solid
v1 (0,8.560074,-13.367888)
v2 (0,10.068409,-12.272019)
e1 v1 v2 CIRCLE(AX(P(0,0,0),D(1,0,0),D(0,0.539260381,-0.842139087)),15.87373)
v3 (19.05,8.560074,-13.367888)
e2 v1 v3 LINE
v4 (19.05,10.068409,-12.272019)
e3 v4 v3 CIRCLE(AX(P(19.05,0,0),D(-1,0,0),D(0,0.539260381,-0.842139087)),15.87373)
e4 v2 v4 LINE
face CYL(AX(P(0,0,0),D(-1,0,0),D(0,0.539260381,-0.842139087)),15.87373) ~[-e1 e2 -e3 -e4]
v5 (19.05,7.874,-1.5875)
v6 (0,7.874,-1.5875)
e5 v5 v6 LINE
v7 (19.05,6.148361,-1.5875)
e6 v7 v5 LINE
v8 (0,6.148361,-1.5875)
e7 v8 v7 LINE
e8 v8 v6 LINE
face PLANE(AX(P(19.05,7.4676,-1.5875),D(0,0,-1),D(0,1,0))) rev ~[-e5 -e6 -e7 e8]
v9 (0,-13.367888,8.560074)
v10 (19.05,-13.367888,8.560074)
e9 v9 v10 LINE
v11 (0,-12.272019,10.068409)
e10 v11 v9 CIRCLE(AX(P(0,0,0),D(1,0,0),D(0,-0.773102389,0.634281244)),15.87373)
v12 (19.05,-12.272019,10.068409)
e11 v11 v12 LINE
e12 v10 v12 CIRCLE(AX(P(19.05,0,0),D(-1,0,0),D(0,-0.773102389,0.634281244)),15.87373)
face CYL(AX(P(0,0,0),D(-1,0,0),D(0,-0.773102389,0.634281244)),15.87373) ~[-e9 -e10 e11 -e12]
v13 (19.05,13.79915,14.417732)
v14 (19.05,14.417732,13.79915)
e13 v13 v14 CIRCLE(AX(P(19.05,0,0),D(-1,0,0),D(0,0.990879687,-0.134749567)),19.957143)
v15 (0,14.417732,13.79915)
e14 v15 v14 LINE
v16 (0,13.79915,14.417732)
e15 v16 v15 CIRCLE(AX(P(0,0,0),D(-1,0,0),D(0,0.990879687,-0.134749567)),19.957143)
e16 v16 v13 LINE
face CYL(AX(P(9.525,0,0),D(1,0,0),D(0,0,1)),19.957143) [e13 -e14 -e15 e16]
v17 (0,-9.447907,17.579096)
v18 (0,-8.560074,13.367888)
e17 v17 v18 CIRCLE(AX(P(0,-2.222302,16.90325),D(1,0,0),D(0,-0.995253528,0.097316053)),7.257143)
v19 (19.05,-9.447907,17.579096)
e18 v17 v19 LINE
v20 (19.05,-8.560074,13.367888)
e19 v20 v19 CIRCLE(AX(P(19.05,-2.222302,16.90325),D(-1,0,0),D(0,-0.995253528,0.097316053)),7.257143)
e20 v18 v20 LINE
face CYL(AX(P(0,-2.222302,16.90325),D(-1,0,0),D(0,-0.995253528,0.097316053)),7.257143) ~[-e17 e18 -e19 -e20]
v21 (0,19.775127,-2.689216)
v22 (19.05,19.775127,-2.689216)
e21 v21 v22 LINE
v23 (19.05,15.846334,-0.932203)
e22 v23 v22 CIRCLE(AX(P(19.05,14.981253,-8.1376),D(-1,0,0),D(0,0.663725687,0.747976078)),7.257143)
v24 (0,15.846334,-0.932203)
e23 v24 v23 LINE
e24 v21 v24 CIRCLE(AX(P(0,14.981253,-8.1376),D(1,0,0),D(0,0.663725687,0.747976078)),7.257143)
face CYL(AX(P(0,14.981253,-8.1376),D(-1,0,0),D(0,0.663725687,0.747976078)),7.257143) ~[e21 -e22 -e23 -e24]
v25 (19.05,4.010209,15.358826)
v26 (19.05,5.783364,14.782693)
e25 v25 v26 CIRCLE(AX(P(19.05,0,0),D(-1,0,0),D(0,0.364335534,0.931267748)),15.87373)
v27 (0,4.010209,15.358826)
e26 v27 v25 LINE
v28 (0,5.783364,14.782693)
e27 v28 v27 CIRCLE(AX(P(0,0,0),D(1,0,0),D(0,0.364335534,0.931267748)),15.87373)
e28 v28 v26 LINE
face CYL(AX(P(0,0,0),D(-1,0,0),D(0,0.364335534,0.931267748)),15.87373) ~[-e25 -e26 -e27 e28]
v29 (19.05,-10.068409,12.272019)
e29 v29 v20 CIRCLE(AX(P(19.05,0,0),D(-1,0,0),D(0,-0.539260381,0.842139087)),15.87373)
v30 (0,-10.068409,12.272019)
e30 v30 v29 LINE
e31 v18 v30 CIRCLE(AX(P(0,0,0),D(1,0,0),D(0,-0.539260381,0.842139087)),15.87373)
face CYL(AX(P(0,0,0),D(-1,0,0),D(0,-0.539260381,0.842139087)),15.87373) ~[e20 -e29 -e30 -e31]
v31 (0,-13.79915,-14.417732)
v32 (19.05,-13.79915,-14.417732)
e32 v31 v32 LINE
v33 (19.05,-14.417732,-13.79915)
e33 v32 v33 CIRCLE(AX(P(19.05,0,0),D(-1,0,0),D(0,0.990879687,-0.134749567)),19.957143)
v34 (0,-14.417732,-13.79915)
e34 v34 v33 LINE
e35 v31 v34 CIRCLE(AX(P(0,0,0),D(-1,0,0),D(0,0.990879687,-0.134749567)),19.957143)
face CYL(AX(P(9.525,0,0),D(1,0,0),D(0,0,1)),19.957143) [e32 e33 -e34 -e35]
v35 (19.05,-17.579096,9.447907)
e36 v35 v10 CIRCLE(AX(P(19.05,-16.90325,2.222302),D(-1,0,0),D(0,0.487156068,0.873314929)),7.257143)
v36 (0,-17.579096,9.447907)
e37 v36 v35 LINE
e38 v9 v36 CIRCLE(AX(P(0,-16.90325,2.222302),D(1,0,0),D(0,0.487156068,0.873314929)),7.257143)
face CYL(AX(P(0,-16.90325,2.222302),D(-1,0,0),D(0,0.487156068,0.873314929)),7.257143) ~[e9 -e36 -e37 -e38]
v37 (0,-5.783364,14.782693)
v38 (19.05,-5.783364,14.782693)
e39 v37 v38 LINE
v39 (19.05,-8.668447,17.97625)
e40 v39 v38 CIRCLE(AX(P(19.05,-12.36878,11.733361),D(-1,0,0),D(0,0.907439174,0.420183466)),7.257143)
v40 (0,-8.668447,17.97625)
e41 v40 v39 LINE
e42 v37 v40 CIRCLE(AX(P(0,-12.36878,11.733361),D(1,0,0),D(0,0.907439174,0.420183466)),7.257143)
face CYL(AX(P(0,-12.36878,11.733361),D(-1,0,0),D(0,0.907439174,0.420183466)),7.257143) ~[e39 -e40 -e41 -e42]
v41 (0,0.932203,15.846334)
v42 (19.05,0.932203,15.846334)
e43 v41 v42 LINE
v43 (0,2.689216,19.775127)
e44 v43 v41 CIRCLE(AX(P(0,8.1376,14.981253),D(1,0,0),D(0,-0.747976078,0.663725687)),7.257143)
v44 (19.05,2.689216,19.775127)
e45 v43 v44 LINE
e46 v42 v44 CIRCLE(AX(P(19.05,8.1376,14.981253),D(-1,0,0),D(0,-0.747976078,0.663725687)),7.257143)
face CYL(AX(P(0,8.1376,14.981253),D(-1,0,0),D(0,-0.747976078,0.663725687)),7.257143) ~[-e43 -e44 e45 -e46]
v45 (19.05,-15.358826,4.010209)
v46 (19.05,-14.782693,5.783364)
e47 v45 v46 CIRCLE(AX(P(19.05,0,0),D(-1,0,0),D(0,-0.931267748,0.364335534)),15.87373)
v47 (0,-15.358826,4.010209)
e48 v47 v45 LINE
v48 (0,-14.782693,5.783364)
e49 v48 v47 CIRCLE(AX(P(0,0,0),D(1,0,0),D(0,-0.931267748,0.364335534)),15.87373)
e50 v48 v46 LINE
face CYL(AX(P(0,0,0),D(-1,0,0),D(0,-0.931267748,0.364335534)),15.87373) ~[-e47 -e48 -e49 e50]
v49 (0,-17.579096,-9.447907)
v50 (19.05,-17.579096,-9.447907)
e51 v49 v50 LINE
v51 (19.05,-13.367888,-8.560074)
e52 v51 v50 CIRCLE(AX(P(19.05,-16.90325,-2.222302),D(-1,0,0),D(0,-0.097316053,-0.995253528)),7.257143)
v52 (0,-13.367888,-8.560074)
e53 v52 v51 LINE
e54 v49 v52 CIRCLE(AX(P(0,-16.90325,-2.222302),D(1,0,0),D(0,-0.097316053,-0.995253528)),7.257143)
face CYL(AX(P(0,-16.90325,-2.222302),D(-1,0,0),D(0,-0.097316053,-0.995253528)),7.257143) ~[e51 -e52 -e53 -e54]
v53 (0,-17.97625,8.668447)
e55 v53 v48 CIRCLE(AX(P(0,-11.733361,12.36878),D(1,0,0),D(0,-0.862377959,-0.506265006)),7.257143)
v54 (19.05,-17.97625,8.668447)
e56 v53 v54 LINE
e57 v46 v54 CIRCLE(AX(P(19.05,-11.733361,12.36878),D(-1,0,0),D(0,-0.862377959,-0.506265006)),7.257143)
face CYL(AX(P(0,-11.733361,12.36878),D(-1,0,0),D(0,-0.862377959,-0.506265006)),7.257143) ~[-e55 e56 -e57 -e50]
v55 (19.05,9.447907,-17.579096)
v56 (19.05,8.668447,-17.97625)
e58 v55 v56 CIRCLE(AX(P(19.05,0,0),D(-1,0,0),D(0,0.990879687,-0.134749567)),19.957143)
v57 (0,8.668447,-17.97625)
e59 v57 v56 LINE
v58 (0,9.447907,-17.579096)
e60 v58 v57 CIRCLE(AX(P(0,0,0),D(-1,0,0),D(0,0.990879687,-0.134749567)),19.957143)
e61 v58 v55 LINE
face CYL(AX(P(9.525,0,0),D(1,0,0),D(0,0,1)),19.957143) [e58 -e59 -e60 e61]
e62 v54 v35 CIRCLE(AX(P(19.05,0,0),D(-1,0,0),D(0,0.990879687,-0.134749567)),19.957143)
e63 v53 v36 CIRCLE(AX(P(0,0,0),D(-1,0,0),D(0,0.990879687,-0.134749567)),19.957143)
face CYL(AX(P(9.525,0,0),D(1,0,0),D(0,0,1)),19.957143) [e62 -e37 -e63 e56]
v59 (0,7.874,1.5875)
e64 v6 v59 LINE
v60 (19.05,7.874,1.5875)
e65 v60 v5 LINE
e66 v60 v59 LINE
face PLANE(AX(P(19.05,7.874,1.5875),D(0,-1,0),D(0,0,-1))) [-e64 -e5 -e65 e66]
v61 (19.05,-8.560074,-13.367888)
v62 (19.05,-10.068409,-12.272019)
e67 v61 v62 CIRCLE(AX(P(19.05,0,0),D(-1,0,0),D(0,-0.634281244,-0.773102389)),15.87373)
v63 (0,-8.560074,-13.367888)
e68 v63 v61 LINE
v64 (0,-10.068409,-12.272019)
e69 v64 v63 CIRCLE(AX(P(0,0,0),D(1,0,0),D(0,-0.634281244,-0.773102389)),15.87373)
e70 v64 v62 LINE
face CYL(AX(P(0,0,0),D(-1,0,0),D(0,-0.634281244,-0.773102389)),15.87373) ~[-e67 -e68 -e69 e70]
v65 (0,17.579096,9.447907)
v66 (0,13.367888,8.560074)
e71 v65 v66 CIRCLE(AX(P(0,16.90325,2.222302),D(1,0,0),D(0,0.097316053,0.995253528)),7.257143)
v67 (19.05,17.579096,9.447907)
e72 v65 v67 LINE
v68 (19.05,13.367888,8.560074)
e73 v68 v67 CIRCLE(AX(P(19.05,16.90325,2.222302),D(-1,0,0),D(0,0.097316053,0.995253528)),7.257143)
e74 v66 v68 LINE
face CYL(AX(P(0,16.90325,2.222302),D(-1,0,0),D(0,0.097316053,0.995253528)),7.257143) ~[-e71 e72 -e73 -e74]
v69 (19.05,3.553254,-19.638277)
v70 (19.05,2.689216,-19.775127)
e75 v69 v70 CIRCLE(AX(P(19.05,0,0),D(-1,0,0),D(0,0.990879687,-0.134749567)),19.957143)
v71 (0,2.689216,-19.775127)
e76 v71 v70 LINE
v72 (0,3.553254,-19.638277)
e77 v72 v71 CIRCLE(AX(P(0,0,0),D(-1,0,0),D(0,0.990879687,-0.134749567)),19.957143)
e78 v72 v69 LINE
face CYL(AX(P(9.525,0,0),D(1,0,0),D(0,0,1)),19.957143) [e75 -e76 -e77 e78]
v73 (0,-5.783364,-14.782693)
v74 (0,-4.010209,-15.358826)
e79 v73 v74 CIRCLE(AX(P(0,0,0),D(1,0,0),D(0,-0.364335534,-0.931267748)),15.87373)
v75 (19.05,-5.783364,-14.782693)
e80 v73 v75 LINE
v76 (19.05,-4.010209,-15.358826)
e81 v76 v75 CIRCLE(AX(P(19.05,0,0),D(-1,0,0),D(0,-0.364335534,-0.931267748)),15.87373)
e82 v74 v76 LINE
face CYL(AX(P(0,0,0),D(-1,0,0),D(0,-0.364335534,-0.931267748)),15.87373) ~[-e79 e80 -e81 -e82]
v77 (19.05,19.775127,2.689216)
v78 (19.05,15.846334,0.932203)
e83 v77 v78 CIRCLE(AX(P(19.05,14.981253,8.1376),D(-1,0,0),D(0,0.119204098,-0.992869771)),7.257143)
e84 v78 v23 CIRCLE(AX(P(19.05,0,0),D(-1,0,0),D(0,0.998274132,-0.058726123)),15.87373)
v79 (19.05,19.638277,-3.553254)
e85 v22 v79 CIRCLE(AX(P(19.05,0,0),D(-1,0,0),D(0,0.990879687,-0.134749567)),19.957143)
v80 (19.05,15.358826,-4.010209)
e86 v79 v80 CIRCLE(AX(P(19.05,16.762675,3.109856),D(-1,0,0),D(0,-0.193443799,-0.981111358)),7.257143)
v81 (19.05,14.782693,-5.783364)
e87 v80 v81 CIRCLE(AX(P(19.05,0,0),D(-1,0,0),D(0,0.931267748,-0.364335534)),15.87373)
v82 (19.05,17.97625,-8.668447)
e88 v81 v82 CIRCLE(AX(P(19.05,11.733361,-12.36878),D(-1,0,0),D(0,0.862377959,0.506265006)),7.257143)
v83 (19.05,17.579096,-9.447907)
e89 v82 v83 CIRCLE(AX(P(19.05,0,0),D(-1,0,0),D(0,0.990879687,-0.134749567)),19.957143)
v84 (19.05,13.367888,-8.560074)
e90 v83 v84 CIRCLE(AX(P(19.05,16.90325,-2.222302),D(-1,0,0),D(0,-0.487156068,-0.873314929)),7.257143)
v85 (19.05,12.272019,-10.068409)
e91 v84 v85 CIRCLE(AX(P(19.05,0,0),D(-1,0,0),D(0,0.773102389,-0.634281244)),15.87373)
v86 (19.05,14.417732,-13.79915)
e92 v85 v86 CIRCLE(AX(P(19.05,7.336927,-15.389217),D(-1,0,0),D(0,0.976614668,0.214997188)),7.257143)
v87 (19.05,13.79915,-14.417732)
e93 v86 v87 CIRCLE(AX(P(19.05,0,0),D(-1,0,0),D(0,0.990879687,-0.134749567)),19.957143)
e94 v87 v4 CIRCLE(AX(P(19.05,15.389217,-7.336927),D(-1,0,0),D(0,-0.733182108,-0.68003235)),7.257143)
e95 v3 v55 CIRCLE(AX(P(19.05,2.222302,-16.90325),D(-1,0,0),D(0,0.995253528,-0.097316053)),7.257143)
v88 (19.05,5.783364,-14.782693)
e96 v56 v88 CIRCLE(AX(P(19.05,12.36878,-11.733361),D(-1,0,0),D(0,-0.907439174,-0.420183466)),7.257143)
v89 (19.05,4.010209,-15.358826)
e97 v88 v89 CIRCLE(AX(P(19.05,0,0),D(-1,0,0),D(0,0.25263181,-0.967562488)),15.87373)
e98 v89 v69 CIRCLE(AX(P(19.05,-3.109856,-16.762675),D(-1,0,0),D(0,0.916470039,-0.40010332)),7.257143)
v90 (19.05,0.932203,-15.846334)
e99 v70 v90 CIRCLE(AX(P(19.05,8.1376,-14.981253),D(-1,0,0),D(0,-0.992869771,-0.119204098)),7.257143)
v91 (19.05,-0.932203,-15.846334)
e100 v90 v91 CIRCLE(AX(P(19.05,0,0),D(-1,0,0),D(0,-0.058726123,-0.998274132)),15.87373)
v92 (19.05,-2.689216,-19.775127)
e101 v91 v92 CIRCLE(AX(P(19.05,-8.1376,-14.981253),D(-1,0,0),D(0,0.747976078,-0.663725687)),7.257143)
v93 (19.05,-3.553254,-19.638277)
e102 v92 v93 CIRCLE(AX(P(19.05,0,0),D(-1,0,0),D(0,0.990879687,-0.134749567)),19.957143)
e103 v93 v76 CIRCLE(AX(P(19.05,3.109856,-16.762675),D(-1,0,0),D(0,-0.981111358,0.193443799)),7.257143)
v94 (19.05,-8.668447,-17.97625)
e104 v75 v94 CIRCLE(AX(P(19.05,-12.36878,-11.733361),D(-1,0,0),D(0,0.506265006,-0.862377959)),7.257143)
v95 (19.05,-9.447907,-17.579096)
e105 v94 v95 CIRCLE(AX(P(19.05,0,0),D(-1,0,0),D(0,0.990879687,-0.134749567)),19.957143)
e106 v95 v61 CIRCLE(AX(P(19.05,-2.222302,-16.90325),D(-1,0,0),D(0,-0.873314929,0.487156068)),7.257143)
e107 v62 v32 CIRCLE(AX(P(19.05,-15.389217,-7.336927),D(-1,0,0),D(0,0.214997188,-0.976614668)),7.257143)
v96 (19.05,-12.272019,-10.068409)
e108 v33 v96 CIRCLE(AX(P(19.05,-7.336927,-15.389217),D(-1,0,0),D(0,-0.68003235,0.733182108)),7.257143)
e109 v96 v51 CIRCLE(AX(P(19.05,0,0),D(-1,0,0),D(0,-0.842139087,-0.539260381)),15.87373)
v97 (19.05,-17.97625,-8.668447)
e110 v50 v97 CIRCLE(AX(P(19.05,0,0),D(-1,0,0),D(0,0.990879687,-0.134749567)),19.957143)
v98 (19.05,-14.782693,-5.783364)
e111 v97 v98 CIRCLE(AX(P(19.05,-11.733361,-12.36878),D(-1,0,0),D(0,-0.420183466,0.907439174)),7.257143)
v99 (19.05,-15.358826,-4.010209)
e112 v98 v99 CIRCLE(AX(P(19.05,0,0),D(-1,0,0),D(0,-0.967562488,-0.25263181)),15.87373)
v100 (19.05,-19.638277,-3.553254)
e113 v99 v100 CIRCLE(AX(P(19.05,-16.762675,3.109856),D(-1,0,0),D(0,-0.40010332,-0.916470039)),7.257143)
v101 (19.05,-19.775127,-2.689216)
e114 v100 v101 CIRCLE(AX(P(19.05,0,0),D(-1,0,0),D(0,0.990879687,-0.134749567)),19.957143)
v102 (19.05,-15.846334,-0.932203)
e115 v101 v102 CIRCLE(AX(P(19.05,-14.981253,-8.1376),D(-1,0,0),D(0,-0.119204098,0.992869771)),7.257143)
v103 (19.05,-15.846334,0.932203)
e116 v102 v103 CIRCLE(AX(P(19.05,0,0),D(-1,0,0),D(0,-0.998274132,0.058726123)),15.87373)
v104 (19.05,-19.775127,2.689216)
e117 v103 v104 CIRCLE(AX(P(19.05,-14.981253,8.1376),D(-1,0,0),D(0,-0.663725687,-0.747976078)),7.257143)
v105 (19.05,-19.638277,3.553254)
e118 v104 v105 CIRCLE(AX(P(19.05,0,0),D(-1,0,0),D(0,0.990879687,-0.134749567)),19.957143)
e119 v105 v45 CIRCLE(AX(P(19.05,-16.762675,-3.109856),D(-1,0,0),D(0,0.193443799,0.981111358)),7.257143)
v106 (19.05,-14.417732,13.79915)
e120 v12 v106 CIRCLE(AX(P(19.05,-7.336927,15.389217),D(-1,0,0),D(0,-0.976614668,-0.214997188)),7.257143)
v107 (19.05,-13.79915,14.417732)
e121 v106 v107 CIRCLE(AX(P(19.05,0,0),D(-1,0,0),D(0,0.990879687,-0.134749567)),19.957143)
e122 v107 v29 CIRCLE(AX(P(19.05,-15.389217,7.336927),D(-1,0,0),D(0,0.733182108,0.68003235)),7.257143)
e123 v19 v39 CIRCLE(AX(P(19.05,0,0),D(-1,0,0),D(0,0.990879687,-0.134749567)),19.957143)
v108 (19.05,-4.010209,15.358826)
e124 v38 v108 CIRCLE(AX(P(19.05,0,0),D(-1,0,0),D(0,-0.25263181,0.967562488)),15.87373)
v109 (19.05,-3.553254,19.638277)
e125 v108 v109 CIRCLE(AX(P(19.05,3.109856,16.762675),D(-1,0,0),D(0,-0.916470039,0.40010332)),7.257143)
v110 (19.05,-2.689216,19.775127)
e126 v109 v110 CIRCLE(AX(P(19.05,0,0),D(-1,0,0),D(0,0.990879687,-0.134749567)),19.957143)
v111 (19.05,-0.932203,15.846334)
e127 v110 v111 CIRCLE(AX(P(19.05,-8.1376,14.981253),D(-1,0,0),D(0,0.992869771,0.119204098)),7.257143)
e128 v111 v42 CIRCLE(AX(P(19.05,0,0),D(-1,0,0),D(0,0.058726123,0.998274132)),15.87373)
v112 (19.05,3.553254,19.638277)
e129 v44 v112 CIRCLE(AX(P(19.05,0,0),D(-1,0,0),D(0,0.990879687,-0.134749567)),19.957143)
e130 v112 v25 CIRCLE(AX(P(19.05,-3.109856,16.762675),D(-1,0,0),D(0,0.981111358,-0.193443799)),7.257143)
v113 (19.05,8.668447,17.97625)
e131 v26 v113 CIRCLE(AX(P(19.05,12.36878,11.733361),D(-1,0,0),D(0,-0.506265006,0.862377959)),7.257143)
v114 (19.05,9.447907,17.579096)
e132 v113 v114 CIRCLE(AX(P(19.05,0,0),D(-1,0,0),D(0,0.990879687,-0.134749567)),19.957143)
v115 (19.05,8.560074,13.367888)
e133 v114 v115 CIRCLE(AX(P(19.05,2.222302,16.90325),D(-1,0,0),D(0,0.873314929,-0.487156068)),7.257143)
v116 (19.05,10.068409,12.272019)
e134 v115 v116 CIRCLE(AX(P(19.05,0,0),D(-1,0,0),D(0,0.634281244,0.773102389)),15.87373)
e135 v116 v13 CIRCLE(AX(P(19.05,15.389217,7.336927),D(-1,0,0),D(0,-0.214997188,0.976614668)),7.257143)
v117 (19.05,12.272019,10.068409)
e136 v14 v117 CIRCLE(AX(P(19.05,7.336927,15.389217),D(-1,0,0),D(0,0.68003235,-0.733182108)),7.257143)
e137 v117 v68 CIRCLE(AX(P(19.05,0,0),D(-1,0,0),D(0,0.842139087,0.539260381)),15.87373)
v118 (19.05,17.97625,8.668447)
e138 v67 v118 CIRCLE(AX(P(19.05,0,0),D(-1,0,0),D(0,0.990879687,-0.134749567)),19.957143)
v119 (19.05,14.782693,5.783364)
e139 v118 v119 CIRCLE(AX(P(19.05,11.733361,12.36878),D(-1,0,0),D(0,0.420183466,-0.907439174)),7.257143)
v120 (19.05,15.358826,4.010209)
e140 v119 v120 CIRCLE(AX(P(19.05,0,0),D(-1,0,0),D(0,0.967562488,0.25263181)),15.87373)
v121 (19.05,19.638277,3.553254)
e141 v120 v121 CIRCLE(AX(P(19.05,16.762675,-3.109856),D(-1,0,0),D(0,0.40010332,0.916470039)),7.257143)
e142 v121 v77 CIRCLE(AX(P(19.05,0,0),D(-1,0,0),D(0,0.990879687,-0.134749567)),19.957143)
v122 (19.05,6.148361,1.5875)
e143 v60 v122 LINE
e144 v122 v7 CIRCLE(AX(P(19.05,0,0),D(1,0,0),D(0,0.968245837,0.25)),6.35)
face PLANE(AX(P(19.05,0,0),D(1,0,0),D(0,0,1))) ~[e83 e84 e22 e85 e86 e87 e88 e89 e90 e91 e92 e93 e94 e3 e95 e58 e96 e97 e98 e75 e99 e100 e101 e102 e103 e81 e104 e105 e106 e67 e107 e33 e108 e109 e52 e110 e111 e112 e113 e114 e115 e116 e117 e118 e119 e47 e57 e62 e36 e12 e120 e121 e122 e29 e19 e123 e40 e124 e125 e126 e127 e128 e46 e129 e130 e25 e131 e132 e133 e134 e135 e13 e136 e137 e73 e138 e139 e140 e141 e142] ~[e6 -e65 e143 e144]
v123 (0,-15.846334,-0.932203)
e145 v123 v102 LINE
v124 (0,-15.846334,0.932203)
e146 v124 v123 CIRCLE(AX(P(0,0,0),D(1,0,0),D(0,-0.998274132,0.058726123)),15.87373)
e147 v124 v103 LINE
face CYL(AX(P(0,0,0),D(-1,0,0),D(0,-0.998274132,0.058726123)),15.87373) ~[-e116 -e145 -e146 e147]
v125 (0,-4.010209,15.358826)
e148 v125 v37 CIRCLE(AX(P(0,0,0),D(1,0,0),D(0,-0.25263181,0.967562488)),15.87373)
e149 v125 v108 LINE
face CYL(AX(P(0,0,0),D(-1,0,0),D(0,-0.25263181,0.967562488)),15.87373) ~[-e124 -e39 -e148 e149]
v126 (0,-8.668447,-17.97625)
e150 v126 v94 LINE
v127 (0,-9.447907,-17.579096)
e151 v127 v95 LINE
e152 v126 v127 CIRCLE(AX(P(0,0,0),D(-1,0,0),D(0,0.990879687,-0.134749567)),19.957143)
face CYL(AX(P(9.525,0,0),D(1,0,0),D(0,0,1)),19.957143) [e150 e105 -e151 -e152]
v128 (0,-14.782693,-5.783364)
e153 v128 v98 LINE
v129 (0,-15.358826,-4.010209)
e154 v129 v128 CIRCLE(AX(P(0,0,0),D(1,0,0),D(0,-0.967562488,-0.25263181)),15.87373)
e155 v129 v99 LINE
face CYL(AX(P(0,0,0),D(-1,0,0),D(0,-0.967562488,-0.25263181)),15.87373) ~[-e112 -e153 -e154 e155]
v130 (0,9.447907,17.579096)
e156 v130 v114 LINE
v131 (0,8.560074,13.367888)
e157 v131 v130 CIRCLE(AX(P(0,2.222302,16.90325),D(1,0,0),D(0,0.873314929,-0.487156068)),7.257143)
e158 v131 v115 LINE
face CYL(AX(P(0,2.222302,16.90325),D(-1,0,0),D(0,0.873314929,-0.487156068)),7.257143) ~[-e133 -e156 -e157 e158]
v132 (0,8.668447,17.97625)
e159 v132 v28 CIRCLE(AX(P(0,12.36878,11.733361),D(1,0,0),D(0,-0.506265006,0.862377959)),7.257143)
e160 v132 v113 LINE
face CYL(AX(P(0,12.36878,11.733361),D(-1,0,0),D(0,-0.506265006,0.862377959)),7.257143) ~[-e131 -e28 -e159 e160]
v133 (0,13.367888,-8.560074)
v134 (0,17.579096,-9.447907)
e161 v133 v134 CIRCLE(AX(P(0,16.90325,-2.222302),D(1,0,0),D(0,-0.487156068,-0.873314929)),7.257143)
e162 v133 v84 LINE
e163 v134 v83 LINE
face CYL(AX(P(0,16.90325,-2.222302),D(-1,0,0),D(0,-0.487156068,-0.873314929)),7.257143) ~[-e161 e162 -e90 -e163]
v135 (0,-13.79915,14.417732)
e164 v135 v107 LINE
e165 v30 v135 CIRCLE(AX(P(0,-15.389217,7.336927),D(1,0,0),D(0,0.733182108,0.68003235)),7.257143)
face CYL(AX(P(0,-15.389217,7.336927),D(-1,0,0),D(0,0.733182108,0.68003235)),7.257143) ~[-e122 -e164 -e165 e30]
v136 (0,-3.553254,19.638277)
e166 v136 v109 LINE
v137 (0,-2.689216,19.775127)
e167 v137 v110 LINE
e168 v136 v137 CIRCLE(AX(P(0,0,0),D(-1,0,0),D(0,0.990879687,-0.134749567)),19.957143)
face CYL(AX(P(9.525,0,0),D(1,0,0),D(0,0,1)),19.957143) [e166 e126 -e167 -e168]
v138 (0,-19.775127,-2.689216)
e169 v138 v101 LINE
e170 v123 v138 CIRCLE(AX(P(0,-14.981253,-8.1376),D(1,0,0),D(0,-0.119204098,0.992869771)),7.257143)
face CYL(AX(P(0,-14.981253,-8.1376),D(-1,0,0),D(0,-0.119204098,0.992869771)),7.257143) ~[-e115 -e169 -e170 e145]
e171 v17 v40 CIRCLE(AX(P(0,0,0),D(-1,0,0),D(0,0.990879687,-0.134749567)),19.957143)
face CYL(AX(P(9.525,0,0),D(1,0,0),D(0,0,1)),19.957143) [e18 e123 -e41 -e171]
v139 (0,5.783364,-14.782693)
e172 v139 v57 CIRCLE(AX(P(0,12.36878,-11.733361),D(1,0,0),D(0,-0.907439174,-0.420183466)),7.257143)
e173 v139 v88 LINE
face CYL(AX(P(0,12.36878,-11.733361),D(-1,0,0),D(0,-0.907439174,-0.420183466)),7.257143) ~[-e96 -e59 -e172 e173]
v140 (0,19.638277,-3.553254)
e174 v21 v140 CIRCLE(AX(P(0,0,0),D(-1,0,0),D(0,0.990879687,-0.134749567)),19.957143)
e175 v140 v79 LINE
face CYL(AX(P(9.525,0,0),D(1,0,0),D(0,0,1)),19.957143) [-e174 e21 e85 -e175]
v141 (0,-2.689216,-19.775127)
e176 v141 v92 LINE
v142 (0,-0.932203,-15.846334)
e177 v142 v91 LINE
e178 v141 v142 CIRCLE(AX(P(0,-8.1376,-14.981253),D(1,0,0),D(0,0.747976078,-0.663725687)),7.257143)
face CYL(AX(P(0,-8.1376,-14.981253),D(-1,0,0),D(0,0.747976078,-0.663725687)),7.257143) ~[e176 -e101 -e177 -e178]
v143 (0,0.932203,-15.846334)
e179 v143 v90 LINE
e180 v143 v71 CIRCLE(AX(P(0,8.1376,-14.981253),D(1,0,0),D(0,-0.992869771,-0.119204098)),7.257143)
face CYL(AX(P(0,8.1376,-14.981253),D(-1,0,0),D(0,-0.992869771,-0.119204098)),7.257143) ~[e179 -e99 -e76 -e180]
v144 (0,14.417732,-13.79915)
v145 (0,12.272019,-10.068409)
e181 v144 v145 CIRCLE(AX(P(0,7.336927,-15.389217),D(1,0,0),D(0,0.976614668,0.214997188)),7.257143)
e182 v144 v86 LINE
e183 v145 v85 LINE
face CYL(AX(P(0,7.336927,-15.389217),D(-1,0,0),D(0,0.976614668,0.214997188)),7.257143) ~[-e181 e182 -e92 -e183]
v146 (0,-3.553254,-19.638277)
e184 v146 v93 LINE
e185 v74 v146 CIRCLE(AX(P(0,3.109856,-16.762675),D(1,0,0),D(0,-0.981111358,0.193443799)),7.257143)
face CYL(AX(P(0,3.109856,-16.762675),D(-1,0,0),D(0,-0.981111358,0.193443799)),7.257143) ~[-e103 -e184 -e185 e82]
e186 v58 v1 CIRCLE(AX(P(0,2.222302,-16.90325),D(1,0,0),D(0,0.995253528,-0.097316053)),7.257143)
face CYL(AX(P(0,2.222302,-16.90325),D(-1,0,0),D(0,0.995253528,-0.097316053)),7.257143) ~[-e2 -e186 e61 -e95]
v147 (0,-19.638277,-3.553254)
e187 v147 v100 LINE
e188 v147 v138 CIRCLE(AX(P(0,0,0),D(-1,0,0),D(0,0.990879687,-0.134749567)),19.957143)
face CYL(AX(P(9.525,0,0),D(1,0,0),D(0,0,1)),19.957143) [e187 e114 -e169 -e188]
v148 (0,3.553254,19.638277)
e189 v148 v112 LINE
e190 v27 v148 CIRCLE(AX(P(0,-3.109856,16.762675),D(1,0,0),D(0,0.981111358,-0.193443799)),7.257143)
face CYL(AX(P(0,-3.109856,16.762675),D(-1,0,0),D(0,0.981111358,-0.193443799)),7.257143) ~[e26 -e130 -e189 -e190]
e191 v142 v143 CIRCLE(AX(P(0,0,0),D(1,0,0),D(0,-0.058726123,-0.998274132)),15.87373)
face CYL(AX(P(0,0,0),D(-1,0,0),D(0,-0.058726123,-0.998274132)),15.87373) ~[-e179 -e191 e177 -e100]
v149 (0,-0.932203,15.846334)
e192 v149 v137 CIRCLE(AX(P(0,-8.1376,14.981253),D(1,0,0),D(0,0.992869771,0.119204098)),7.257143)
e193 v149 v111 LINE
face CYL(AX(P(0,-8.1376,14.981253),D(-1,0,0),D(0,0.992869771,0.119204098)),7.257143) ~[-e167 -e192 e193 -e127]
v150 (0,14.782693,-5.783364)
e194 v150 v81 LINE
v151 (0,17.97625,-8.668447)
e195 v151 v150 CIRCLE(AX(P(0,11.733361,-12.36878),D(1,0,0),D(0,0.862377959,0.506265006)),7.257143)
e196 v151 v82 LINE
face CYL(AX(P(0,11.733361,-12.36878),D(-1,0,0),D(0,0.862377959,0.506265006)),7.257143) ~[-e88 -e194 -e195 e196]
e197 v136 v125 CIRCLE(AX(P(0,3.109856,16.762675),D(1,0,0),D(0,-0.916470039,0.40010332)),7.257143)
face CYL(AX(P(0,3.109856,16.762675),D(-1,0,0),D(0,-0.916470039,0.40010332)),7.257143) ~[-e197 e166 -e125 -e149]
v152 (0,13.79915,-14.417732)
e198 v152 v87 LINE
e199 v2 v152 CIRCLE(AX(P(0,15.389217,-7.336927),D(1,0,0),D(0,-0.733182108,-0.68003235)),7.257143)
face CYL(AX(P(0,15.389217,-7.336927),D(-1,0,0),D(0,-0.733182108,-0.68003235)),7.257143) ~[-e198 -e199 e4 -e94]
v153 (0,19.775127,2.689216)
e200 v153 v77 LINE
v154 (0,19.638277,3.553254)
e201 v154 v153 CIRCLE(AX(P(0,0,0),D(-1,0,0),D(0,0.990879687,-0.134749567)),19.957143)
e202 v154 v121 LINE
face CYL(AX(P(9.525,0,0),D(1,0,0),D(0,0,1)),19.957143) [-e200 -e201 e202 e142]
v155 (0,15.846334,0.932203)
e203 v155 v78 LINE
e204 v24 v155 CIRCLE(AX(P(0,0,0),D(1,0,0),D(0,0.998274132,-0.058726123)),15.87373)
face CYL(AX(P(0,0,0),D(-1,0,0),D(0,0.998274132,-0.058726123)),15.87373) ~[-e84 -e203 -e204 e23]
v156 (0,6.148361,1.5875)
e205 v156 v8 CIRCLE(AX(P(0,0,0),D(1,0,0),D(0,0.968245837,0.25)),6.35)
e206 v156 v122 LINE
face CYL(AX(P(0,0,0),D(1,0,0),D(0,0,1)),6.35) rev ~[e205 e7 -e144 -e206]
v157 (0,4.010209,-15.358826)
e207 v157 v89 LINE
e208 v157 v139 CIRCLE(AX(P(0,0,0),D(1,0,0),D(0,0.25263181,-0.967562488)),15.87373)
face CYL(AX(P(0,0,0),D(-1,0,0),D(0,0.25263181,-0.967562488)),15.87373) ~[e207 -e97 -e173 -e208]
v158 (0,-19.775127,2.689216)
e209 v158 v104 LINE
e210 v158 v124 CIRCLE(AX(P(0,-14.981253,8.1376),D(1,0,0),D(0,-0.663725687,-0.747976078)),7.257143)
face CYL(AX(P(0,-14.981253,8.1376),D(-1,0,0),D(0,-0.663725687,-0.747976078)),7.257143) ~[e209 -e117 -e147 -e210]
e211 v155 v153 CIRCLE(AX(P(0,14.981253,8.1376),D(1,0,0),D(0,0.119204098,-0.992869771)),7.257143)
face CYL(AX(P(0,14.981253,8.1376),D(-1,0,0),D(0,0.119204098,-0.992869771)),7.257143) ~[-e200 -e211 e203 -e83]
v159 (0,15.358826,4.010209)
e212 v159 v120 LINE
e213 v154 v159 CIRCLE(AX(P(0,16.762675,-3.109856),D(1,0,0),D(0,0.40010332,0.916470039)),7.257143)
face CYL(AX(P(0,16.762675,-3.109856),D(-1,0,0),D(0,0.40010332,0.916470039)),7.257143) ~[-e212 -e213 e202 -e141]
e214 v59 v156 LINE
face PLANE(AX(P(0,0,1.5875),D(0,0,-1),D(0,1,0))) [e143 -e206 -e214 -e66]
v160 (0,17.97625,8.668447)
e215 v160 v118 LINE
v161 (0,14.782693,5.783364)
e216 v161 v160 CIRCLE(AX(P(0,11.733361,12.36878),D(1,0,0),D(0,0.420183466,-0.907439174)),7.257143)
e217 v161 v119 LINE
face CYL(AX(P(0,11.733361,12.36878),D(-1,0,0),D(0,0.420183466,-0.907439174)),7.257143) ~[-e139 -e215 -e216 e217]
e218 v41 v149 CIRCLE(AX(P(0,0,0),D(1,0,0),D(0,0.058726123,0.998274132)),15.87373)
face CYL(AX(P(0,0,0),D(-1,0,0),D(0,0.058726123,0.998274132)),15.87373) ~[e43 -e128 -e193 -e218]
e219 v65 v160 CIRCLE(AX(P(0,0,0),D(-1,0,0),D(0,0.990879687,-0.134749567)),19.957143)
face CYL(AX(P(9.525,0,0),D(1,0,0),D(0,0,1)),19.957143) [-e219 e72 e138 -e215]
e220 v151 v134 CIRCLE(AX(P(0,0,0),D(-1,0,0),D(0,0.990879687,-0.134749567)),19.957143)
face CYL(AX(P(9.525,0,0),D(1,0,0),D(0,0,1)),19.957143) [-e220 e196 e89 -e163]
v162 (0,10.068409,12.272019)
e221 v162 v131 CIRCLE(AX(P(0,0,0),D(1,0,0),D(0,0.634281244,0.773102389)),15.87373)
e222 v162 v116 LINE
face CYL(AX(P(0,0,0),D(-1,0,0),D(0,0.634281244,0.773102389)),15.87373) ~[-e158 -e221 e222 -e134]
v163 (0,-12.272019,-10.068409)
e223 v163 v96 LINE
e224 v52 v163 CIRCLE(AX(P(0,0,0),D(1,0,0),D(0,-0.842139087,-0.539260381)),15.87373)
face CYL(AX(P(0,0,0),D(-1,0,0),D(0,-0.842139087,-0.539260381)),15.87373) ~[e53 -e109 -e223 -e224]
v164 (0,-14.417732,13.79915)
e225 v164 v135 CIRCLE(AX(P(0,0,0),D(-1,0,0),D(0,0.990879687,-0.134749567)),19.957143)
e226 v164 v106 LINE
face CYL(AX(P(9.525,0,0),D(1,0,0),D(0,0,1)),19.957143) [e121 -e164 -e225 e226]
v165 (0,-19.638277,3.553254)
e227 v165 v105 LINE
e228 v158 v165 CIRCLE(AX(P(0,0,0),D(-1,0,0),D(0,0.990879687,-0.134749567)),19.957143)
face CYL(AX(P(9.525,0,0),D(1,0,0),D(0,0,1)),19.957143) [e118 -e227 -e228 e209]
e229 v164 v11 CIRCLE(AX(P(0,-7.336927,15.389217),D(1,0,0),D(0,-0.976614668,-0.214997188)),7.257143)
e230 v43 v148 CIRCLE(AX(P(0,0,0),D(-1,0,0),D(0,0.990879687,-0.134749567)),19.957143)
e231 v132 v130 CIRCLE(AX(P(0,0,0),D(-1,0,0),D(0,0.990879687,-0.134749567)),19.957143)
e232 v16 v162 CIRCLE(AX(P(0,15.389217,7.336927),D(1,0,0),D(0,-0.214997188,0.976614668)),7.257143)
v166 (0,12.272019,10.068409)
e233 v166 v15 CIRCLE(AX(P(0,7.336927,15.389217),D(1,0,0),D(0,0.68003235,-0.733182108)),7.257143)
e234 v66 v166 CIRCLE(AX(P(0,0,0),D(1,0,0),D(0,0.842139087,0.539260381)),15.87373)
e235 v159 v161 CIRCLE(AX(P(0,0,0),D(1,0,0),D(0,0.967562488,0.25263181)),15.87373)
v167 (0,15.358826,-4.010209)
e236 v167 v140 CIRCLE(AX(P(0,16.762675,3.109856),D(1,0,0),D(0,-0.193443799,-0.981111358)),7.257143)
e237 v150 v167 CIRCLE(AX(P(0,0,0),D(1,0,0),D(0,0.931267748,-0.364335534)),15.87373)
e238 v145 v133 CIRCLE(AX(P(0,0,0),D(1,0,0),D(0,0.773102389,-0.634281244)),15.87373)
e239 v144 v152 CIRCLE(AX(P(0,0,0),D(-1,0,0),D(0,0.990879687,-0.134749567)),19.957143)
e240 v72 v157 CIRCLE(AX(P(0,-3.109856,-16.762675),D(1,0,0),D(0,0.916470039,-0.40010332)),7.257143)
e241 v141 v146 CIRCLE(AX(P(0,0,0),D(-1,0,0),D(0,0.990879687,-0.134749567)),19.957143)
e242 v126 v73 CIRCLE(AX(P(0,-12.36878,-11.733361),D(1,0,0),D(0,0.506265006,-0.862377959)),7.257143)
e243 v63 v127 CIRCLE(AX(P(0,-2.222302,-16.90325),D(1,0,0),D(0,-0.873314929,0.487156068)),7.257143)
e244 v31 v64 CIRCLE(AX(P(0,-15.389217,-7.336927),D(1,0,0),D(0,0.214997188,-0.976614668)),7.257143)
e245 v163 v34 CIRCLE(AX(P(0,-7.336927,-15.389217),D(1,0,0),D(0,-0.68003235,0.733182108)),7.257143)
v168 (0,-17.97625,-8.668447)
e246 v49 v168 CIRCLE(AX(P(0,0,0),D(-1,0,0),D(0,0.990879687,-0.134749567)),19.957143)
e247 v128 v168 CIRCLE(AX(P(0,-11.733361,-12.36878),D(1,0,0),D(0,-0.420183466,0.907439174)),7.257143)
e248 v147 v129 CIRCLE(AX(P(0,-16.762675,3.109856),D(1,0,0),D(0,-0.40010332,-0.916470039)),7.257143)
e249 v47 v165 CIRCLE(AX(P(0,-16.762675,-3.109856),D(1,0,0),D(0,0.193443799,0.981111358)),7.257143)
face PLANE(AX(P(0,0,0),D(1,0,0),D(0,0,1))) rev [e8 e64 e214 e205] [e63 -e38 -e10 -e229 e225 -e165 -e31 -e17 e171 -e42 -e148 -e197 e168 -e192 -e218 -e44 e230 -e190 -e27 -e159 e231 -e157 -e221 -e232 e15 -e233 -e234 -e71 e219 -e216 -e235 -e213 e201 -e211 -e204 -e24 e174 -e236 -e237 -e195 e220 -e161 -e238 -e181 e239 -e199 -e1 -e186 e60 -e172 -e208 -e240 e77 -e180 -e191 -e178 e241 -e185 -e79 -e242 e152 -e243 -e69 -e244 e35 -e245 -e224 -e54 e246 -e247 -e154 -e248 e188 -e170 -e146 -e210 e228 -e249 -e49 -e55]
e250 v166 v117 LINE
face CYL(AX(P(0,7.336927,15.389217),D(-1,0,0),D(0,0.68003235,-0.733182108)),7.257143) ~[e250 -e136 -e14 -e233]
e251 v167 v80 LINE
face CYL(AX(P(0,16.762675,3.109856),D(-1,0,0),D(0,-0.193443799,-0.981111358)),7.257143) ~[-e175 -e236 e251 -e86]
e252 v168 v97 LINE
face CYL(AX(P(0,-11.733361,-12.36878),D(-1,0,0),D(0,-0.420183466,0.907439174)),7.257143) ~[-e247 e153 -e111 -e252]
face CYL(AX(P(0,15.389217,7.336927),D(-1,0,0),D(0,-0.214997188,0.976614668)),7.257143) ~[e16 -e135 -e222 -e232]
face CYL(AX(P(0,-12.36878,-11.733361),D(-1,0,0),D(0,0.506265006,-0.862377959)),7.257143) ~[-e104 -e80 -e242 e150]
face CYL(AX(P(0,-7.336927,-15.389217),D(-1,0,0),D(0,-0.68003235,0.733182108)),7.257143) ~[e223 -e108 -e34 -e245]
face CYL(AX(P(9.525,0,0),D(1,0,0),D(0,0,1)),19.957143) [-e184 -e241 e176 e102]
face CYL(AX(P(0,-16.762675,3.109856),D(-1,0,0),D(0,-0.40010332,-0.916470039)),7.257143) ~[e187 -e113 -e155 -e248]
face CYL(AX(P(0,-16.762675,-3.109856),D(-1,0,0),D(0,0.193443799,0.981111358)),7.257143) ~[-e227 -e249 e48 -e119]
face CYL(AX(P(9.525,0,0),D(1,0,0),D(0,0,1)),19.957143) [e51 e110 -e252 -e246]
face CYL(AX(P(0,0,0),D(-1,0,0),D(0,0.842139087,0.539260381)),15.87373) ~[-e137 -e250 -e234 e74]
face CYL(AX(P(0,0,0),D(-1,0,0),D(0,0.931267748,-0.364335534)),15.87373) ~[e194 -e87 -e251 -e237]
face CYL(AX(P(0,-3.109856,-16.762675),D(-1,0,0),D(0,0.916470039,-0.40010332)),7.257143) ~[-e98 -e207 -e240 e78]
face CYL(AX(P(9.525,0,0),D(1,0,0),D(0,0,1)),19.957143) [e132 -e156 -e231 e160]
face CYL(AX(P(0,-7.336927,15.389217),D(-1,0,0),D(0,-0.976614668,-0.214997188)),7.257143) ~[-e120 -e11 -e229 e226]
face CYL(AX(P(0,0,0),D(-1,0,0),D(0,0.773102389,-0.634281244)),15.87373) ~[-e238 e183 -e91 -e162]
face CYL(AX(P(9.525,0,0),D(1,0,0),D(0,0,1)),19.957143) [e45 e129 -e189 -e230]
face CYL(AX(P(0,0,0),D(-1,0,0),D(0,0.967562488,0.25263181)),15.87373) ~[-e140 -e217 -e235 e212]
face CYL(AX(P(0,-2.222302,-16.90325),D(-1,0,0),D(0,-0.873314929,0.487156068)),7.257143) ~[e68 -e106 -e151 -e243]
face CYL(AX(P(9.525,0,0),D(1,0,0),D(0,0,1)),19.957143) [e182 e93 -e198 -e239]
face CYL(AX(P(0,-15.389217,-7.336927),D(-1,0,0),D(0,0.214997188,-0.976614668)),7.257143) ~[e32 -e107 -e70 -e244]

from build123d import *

# Parameters (mm, degrees)
BASPROSKE_W             = 19.05
BASPROSKE_H             = 19.957142857
TOOTHCUT_DEPTH          = 35.051102802
TEETHCUTS_COUNT         = 20
BORSKE_R                = 6.35
BORE_DEPTH              = 50.8000508
KEYSKE_W                = 3.175
KEYSKE_H                = 7.4676
KEYWAY_DEPTH            = 50.8000508
SKETCH1_W               = 3.175
SKETCH1_H               = 0.4064
CUT_EXTRUDE4_DEPTH      = 34.838053031
CUT_EXTRUDE4_DEPTH_BACK = 34.838053031


with BuildPart() as part:
    # BasProSke → Base-Revolve (revolve)
    with BuildSketch(Plane(origin=(0, 0, 0), x_dir=(1, 0, 0), z_dir=(0, 1, 0)), mode=Mode.PRIVATE) as base_revolve_sk:
        with Locations((9.525, 9.978571429)):
            Rectangle(BASPROSKE_W, BASPROSKE_H)
    revolve(base_revolve_sk.sketch.rotate(Axis((-10, 0, 0), (1, 0, 0)), 180), axis=Axis((-10, 0, 0), (1, 0, 0)))

    # TooCutSke → ToothCut (cut, through all)
    with BuildSketch(Plane(origin=(0, 0, 0), x_dir=(0, 0, -1), z_dir=(1, 0, 0))):
        with BuildLine():
            ThreePointArc((0.93220263, 15.846334036), (0, 15.87373), (-0.93220263, 15.846334036))
            ThreePointArc((-0.93220263, 15.846334036), (-1.519014467, 17.957902446), (-2.709431151, 19.798004997))
            ThreePointArc((-2.709431151, 19.798004997), (0, 19.982542857), (2.709431151, 19.798004997))
            ThreePointArc((2.709431151, 19.798004997), (1.519014467, 17.957902446), (0.93220263, 15.846334036))
        make_face()
    toothcut = extrude(amount=TOOTHCUT_DEPTH, mode=Mode.SUBTRACT)

    # TeethCuts: ToothCut ×20 about axis
    teethcuts_axis = Axis((0, 0, 0), (1, 0, 0))
    for i in range(1, TEETHCUTS_COUNT):
        add(toothcut.rotate(teethcuts_axis, i * 360 / TEETHCUTS_COUNT), mode=Mode.SUBTRACT)

    # BorSke → Bore (cut, symmetric)
    with BuildSketch(Plane(origin=(0, 0, 0), x_dir=(0, 0, -1), z_dir=(1, 0, 0))):
        with Locations(Location((0, 0, 0), (0, 0, 180))):
            Circle(BORSKE_R)
    extrude(amount=BORE_DEPTH, both=True, mode=Mode.SUBTRACT)

    # KeySke → Keyway (cut, symmetric)
    with BuildSketch(Plane(origin=(0, 0, 0), x_dir=(0, 0, -1), z_dir=(1, 0, 0))):
        with Locations((0, 3.7338)):
            Rectangle(KEYSKE_W, KEYSKE_H)
    extrude(amount=KEYWAY_DEPTH, both=True, mode=Mode.SUBTRACT)

    # Sketch1 → Cut-Extrude4 (cut, two sides)
    with BuildSketch(Plane(origin=(19.05, 0, 0), x_dir=(0, 0, -1), z_dir=(1, 0, 0))) as cut_extrude4_sk:
        with Locations((0, 7.6708)):
            Rectangle(SKETCH1_W, SKETCH1_H)
    extrude(amount=CUT_EXTRUDE4_DEPTH, mode=Mode.SUBTRACT)
    extrude(cut_extrude4_sk.sketch, amount=-CUT_EXTRUDE4_DEPTH_BACK, mode=Mode.SUBTRACT)


solid = part.part
